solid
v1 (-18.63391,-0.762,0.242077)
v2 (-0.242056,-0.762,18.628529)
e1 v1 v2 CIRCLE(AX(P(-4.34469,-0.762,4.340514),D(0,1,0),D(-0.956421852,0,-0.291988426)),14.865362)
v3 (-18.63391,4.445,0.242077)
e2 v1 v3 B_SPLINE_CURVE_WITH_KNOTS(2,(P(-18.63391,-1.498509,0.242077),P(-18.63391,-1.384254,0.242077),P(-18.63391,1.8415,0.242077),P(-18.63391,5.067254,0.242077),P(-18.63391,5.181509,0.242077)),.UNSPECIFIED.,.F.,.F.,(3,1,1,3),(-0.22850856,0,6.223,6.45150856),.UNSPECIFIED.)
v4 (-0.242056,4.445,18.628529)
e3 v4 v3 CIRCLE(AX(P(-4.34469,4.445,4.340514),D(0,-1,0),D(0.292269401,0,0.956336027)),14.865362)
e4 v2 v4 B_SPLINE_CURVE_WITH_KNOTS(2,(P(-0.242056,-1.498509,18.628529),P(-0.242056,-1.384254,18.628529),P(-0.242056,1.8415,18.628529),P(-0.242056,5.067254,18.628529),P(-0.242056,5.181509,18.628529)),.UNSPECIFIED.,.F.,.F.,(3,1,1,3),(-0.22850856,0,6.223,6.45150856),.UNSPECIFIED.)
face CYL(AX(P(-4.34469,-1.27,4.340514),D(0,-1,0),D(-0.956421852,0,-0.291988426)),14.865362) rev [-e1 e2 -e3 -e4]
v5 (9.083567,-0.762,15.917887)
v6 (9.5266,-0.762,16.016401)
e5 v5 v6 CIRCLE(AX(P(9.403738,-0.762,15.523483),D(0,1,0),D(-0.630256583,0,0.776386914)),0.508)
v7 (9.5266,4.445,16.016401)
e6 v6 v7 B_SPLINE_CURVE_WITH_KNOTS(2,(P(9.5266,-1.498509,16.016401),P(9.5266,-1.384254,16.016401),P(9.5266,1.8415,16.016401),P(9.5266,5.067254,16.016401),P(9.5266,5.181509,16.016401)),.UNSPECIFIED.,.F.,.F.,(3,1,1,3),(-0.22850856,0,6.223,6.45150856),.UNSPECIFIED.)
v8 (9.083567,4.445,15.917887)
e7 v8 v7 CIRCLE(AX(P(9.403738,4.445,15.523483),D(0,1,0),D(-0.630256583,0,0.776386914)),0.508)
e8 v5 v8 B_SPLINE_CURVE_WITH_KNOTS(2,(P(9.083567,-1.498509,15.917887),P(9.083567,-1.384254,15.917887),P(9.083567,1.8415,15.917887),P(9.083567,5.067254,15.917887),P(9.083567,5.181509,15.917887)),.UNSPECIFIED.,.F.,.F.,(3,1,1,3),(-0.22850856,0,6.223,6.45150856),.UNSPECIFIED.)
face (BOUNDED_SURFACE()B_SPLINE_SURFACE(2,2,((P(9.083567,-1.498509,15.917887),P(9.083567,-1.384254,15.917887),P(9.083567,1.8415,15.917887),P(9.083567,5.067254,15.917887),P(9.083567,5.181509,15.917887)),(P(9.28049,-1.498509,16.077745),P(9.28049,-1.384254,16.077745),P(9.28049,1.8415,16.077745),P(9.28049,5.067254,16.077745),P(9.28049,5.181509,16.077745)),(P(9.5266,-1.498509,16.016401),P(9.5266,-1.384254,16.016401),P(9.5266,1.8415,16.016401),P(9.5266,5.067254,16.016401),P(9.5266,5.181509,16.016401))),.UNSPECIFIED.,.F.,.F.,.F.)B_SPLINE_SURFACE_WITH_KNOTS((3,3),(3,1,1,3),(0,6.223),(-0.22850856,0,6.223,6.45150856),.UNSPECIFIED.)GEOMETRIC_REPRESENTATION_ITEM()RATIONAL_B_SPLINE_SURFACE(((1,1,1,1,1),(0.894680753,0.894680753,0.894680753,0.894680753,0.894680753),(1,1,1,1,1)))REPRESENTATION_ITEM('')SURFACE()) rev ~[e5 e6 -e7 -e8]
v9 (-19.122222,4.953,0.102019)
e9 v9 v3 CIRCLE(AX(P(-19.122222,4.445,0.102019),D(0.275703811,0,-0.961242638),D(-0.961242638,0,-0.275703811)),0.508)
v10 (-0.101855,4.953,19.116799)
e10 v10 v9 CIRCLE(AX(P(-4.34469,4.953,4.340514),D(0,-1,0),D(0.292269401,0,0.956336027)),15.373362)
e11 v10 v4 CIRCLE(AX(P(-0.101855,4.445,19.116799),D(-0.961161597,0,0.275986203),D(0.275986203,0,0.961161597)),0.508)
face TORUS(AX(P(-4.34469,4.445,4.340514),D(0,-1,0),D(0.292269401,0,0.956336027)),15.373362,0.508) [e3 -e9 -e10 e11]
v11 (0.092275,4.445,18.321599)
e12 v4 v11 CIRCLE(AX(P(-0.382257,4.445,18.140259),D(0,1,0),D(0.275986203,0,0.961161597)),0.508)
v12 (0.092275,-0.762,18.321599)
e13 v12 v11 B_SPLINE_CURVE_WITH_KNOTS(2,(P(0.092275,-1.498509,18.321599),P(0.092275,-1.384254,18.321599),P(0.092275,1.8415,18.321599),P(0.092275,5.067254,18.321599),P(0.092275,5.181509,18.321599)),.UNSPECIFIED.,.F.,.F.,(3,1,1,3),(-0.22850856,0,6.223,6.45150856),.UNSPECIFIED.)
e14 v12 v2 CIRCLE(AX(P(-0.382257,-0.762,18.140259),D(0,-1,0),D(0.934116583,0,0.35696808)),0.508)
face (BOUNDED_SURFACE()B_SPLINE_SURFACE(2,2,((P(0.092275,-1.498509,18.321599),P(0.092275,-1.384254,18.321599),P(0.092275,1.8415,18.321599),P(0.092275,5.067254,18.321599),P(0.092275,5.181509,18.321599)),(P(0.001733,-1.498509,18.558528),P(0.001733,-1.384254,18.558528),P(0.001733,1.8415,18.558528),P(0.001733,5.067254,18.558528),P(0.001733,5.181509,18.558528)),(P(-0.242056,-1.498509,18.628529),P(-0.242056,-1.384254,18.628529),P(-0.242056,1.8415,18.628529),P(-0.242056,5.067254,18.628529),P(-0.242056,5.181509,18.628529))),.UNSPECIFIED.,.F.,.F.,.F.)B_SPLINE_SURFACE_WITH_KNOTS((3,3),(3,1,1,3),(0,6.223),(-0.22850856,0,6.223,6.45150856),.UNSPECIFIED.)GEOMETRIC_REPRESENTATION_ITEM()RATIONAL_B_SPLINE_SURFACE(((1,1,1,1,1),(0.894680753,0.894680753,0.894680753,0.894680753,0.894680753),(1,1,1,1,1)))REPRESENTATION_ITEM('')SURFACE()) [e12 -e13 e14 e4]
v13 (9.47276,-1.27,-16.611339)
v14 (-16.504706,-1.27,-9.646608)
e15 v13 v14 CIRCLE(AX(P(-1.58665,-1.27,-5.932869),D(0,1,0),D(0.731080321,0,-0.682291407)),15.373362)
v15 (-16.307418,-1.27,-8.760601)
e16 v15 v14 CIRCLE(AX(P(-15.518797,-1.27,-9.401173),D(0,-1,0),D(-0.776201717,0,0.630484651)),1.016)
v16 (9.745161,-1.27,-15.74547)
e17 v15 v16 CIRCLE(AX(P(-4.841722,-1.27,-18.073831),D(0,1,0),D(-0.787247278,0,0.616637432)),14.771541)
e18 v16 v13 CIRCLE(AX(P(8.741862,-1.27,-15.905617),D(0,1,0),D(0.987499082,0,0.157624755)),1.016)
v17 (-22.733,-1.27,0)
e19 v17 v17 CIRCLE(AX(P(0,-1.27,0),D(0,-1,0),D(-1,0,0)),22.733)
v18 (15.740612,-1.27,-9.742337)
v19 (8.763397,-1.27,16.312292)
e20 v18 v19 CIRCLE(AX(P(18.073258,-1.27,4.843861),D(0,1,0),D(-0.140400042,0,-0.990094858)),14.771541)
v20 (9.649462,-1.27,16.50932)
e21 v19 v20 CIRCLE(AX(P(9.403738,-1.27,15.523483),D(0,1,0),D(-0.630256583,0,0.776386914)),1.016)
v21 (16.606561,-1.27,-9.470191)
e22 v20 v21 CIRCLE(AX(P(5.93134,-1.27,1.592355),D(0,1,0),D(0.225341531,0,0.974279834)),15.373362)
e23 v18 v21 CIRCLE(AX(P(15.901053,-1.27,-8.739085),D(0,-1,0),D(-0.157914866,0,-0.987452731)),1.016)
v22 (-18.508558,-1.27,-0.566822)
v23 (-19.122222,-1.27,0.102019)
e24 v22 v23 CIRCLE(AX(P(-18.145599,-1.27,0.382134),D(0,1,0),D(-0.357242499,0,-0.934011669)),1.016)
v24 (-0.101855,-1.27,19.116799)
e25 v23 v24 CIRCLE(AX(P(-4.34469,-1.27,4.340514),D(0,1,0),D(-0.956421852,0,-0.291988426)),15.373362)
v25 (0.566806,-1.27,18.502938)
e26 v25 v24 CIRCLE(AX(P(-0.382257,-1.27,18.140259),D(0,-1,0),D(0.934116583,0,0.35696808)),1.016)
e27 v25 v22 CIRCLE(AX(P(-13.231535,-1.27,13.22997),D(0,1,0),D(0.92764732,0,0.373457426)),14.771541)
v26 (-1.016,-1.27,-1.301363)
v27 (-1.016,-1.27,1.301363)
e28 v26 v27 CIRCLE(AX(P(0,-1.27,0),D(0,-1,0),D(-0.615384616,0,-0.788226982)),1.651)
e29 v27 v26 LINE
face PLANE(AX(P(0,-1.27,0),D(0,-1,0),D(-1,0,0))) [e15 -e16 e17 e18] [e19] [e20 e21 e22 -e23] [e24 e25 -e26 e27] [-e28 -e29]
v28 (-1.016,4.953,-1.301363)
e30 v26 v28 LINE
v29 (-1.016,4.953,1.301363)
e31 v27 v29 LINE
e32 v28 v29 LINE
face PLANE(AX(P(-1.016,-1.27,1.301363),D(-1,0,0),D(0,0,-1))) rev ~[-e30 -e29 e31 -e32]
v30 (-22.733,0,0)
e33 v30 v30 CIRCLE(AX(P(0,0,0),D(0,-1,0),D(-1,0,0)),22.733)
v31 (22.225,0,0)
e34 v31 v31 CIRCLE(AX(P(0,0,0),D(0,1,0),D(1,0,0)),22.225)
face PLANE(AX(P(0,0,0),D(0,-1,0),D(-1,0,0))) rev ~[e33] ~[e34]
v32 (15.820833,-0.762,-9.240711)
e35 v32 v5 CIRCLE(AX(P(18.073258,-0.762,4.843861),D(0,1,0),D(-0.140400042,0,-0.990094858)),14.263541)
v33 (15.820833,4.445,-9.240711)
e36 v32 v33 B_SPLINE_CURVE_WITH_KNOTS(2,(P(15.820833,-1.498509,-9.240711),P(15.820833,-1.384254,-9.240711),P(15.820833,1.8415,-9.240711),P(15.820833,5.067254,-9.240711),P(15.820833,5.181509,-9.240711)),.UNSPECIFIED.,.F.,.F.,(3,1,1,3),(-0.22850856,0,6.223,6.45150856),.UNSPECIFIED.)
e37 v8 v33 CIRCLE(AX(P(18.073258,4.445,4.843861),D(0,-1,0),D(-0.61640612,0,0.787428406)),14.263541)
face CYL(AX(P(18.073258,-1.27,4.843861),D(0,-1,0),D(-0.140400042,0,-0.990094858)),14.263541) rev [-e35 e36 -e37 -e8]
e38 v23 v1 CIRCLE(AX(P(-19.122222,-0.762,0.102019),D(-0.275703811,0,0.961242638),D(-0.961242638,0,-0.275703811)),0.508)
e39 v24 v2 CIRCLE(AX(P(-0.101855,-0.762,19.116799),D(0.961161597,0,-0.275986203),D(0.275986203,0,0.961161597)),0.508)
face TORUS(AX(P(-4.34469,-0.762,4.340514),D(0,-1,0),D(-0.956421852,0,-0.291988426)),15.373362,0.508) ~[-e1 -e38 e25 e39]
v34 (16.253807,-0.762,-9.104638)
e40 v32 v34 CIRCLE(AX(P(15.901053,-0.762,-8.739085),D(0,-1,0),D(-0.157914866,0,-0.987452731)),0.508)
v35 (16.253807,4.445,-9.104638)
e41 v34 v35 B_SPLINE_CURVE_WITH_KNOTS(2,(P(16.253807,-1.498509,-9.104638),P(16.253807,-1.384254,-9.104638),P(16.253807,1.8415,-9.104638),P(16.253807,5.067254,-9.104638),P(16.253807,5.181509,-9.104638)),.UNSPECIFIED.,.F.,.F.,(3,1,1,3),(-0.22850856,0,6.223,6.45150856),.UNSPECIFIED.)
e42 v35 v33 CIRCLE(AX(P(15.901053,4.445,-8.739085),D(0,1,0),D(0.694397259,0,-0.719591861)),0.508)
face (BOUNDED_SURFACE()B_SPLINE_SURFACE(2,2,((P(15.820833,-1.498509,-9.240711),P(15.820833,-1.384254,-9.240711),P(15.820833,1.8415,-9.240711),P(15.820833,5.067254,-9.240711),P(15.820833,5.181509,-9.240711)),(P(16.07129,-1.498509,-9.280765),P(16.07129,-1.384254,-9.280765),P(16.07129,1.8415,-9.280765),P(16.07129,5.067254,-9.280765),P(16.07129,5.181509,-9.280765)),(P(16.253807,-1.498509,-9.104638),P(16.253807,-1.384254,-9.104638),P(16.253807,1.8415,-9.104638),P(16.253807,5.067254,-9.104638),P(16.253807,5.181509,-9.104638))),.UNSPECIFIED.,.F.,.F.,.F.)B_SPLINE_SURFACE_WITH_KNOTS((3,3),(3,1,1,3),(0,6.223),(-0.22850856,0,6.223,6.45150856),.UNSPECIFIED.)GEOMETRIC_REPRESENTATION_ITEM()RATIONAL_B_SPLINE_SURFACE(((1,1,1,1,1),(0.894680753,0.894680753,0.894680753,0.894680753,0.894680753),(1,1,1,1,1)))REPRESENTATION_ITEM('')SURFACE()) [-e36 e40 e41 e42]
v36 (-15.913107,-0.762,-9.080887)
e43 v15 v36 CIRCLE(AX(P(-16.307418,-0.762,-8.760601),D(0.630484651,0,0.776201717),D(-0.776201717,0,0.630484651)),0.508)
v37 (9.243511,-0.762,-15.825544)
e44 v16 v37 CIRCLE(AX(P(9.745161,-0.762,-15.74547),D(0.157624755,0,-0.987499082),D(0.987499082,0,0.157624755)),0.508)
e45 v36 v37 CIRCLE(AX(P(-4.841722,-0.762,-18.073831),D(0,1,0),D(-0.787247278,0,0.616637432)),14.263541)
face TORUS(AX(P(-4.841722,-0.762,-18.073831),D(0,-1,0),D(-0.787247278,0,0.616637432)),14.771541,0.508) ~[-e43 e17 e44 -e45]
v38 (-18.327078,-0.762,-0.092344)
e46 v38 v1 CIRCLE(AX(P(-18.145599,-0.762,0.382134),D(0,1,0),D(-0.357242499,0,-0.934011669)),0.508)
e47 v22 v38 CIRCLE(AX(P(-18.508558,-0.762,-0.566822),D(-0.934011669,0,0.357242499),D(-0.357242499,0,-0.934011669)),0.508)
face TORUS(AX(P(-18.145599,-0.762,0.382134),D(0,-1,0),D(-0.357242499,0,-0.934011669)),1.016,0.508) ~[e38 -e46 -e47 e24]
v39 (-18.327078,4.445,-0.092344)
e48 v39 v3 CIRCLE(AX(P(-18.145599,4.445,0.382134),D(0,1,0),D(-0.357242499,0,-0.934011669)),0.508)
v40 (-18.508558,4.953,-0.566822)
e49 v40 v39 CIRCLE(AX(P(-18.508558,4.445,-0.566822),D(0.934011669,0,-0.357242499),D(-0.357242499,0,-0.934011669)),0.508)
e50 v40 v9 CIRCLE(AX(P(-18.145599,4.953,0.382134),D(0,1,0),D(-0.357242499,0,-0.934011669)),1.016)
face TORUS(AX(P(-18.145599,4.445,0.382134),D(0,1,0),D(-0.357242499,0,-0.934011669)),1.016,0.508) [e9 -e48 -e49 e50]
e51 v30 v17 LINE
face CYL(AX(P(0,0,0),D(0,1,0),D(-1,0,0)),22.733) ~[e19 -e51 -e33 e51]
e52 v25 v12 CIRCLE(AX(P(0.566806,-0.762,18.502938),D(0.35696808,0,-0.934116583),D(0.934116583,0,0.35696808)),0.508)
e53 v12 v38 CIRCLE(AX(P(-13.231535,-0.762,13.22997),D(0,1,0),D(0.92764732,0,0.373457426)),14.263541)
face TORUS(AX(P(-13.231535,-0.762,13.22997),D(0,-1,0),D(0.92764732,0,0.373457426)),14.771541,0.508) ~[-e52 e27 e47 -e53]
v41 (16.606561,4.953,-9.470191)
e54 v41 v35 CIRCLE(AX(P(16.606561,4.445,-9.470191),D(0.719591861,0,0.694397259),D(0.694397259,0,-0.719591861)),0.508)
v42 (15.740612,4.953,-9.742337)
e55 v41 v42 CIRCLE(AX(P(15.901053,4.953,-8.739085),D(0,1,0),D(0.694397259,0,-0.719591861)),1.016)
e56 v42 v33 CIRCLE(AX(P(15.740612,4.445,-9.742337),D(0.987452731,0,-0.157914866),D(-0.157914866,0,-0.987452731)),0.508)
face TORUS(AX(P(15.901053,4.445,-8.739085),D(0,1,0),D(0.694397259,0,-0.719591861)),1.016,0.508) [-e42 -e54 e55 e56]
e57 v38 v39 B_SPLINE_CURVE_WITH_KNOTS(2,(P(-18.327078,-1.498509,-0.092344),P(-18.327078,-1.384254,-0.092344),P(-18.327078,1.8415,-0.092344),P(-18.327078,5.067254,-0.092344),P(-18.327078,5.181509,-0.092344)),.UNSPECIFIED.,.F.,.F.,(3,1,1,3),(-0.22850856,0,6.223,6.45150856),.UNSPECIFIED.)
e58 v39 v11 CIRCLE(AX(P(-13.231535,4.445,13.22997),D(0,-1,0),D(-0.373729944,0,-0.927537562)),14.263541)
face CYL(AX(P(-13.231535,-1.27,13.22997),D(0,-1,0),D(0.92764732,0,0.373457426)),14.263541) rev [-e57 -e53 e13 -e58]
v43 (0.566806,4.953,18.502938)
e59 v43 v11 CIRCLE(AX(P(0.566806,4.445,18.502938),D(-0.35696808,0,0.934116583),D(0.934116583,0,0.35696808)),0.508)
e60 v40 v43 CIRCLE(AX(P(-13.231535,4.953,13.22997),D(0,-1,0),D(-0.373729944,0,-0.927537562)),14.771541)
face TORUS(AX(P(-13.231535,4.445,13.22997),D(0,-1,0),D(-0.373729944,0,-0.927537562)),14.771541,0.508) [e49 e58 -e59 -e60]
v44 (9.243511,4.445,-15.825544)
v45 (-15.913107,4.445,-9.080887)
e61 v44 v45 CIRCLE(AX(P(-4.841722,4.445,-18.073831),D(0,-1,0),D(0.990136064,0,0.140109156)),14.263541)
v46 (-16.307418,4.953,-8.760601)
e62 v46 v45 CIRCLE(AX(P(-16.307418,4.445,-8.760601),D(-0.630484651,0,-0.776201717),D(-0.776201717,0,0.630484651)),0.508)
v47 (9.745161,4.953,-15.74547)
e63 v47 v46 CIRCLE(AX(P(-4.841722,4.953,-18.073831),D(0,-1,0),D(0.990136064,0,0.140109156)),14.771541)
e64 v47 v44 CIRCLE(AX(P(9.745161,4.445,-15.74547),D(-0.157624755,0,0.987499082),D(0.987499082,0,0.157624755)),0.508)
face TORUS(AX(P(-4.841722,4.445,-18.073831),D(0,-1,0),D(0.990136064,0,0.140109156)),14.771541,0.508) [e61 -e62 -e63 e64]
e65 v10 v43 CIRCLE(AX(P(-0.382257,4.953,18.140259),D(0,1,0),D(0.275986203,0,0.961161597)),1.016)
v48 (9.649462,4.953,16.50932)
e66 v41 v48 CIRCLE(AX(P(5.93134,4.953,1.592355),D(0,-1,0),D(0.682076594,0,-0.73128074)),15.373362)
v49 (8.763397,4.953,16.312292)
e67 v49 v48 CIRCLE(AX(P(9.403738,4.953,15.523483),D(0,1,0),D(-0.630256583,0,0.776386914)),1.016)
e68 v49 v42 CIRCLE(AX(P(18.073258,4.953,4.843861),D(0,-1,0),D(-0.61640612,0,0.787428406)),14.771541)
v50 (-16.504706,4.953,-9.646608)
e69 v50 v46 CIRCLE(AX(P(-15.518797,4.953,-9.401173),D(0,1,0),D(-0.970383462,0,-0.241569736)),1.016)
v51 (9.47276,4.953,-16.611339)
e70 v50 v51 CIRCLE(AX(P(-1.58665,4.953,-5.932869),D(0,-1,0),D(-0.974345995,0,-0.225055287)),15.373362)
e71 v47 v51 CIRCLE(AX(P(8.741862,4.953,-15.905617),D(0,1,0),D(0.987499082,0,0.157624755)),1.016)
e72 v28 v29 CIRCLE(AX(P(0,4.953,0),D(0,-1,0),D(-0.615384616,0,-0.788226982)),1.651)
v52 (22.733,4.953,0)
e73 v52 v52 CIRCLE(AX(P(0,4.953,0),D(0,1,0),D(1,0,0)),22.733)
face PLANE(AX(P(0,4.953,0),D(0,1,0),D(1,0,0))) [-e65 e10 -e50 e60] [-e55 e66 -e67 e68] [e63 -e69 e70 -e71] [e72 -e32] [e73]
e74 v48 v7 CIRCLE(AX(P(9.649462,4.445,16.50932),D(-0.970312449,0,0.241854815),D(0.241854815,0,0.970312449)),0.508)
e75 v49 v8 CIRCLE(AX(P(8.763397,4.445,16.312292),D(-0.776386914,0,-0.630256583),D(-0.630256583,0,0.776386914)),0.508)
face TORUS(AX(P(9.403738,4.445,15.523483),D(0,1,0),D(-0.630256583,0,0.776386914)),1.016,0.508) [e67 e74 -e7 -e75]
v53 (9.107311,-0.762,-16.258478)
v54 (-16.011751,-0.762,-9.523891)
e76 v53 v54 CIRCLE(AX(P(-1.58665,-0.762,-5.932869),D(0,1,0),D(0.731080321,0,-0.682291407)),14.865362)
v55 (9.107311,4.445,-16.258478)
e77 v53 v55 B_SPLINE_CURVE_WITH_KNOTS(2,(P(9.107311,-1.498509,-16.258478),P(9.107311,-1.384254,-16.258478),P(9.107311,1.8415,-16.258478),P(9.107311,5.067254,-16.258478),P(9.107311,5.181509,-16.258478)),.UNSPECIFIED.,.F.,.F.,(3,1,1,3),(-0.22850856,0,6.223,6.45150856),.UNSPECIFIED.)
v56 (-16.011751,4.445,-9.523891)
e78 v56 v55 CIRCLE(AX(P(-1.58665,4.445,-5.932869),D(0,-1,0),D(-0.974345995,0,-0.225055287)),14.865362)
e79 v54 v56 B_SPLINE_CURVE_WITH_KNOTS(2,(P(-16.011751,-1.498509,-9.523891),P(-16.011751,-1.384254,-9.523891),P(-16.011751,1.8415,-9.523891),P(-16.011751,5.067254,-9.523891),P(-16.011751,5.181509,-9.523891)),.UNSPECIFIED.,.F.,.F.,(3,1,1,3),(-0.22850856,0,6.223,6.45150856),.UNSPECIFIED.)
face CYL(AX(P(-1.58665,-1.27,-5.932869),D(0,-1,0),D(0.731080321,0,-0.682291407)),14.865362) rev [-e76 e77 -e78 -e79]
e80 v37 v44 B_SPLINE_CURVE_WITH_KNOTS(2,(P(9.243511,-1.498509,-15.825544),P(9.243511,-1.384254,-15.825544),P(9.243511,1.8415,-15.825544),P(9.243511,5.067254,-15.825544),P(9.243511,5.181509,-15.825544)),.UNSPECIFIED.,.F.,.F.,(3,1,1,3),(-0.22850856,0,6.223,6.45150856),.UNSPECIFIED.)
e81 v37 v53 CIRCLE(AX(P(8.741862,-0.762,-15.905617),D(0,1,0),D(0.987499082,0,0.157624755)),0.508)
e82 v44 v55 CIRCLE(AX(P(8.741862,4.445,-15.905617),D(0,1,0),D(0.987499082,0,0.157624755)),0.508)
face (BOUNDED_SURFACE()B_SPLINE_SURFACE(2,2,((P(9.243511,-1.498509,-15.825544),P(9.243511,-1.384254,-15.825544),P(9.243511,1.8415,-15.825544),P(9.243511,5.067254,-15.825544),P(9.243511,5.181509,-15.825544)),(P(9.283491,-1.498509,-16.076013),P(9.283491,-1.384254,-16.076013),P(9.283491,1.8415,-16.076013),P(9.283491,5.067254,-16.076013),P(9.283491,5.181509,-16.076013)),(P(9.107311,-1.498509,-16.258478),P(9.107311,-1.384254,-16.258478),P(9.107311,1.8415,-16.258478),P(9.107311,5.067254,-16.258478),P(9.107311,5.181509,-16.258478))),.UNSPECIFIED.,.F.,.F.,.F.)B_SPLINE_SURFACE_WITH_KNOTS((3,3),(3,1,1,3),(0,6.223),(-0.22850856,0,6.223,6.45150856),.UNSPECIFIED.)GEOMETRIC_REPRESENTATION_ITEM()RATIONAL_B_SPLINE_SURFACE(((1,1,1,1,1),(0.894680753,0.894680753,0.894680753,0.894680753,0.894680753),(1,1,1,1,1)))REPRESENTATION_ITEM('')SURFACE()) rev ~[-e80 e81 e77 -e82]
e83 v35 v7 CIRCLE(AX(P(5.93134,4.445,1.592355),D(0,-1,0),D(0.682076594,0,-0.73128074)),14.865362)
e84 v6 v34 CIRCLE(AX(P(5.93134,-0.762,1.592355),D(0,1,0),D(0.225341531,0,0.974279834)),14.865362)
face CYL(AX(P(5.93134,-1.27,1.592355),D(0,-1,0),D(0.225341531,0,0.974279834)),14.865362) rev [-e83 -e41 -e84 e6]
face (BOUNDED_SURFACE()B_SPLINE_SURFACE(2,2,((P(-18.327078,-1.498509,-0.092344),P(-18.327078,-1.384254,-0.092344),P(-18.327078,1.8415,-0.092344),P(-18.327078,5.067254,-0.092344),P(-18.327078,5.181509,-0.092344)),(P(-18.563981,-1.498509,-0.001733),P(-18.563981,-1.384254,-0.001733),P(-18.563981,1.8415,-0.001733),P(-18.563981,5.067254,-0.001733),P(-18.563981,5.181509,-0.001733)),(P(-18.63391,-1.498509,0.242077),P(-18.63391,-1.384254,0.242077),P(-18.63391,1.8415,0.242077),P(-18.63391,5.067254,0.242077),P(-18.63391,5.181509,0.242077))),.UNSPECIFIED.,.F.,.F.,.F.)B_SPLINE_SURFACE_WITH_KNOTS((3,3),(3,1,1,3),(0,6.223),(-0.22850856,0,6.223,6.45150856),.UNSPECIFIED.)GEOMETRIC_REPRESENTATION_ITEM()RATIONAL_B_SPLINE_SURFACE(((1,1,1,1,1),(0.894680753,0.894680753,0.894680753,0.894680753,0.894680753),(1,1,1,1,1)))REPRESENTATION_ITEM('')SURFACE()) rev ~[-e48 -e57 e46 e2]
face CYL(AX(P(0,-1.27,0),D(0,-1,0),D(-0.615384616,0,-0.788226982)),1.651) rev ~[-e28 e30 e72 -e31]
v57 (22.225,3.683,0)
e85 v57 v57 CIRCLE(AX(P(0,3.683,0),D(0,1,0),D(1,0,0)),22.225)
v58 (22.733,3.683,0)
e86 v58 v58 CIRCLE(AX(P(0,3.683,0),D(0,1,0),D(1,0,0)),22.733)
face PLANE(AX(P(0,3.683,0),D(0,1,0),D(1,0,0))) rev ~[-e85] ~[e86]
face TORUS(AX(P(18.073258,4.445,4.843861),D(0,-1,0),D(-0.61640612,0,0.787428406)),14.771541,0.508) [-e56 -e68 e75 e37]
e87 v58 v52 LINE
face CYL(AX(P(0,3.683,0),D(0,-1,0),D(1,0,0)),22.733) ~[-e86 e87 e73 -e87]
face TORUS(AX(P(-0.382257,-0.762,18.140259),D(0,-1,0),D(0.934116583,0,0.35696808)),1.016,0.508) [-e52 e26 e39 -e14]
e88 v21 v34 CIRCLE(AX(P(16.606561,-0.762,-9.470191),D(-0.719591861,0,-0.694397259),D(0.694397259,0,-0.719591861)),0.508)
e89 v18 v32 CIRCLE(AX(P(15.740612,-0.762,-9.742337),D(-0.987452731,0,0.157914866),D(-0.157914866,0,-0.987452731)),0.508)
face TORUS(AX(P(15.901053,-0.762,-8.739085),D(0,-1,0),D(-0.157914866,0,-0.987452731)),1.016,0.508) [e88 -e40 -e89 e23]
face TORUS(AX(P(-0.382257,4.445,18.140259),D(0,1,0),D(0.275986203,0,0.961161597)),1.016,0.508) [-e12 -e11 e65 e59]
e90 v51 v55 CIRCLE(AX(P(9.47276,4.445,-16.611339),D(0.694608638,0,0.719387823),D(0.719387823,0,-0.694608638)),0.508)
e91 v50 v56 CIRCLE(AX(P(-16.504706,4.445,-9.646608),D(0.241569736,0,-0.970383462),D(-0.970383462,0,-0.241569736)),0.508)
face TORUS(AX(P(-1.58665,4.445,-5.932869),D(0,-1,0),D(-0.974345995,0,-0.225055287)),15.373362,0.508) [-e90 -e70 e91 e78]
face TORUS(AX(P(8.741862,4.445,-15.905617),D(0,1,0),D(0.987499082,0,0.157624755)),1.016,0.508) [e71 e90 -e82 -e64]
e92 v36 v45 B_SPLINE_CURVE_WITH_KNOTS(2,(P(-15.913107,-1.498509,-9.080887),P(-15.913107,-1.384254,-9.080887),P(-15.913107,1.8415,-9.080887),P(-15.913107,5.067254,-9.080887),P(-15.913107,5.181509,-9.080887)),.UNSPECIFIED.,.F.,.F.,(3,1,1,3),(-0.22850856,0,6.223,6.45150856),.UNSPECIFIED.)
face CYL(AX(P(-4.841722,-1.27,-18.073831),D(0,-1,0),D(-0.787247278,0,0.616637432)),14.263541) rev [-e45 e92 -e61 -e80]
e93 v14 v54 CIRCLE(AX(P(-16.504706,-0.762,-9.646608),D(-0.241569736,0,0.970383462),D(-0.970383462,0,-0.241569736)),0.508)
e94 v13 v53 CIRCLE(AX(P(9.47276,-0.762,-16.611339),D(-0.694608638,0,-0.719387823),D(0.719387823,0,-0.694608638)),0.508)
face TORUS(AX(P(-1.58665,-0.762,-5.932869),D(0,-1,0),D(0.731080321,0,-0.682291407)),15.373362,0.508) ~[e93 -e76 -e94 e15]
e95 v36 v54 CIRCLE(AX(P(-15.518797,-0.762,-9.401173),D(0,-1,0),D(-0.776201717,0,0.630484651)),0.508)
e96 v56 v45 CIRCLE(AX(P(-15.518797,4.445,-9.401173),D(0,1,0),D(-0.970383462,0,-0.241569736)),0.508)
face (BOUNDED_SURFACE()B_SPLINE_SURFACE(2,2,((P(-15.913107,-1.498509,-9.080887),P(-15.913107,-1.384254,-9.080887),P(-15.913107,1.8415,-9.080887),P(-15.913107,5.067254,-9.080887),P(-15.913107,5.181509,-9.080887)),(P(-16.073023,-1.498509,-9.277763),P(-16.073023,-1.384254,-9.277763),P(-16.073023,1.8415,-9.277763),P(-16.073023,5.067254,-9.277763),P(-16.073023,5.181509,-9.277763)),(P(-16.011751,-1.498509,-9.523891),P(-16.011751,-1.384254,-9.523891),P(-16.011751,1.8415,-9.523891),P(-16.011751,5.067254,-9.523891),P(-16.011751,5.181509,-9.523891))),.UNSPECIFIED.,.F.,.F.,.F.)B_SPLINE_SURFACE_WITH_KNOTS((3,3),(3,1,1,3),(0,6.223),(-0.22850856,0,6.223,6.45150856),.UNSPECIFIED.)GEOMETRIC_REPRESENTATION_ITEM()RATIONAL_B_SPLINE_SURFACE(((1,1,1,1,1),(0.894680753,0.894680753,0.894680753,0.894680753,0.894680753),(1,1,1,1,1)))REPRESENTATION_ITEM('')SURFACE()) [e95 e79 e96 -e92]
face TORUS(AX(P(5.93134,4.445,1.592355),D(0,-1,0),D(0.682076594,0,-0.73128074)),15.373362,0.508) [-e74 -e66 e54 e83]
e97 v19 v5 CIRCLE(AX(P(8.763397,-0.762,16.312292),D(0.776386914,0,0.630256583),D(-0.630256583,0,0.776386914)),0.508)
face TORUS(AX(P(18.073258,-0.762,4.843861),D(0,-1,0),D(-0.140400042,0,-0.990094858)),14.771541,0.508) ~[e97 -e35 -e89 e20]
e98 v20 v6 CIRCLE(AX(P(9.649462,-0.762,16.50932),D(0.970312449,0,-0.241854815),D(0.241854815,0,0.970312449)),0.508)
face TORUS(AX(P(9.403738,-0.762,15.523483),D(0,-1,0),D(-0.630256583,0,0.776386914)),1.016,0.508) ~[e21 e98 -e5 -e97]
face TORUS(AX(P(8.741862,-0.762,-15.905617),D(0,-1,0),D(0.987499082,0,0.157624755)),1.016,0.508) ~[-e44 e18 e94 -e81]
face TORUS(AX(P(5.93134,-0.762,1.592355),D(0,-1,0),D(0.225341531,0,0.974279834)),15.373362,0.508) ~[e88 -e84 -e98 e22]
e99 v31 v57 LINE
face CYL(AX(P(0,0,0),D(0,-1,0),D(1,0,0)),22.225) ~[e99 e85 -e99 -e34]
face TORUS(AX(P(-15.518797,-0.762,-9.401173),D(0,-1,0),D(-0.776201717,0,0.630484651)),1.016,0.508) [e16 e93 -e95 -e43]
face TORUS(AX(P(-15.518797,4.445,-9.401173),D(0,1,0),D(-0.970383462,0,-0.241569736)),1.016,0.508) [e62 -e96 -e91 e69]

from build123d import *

# Parameters (mm, degrees)
SKETCH2_R                = 22.225
BOSS_EXTRUDE1_DEPTH      = 3.683
SKETCH3_R                = 22.733
BOSS_EXTRUDE2_DEPTH      = 1.27
SKETCH4_R                = 22.733
BOSS_EXTRUDE3_DEPTH      = 1.27
CUT_EXTRUDE1_DEPTH       = 7.223
CUT_EXTRUDE3_DEPTH       = 7.223
FILLET5_R                = 0.508
CIRPATTERN3_COUNT        = 3
FILLET5_OF_CIRPATTERN3_R = 0.508


with BuildPart() as part:
    # Sketch2 → Boss-Extrude1 (new body)
    with BuildSketch(Plane(origin=(0, 0, 0), x_dir=(1, 0, 0), z_dir=(0, 1, 0))):
        Circle(SKETCH2_R)
    extrude(amount=BOSS_EXTRUDE1_DEPTH)

    # Sketch3 → Boss-Extrude2 (add)
    with BuildSketch(Plane(origin=(0, 3.683, 0), x_dir=(1, 0, 0), z_dir=(0, 1, 0))):
        Circle(SKETCH3_R)
    extrude(amount=BOSS_EXTRUDE2_DEPTH)

    # Sketch4 → Boss-Extrude3 (add)
    with BuildSketch(Plane(origin=(0, 0, 0), x_dir=(-1, 0, 0), z_dir=(0, -1, 0))):
        Circle(SKETCH4_R)
    extrude(amount=BOSS_EXTRUDE3_DEPTH)

    # Sketch5 → Cut-Extrude1 (cut, through all)
    with BuildSketch(Plane.XZ.offset(1.27)):
        with BuildLine():
            Line((-1.016, 1.301362747), (-1.016, -1.301362747))
            ThreePointArc((-1.016, -1.301362747), (1.651, 0), (-1.016, 1.301362747))
        make_face()
    extrude(amount=-CUT_EXTRUDE1_DEPTH, mode=Mode.SUBTRACT)

    # Sketch9 → Cut-Extrude3 (cut, through all)
    with BuildSketch(Plane(origin=(0, -1.27, 0), x_dir=(-1, 0, 0), z_dir=(0, -1, 0))):
        with BuildLine():
            ThreePointArc((18.562247706, 0), (14.8545447, -14.853456053), (0, -18.556795097))
            ThreePointArc((0, -18.556795097), (3.147170651, -3.142641985), (18.562247706, 0))
        make_face()
    cut_extrude3 = extrude(amount=-CUT_EXTRUDE3_DEPTH, mode=Mode.SUBTRACT)

    # Fillet5
    fillet5_edges = [part.edges().sort_by_distance(p)[0] for p in [
        (-3.147170651, 4.953, 3.142641985),
        (0, 1.8415, 18.556795097),
        (-14.8545447, 4.953, 14.853456053),
        (-18.562247706, 1.8415, 0),
        (-3.147170651, -1.27, 3.142641985),
        (-14.8545447, -1.27, 14.853456053),
    ]]
    fillet(fillet5_edges, radius=FILLET5_R)

    # CirPattern3: Cut-Extrude3 ×3 about axis
    cirpattern3_axis = Axis((0, 0, 0), (0, 1, 0))
    for i in range(1, CIRPATTERN3_COUNT):
        add(cut_extrude3.rotate(cirpattern3_axis, i * 360 / CIRPATTERN3_COUNT), mode=Mode.SUBTRACT)

    # Fillet5 of CirPattern3
    fillet5_of_cirpattern3_edges = [part.edges().sort_by_distance(p)[0] for p in [
        (4.29519312, 4.953, 1.154208741),
        (16.070655967, 1.8415, -9.278397548),
        (20.290742626, 4.953, 5.437685045),
        (9.281123853, 1.8415, 16.075378065),
        (4.29519312, -1.27, 1.154208741),
        (20.290742626, -1.27, 5.437685045),
        (-1.148022469, 4.953, -4.296850727),
        (-16.070655967, 1.8415, -9.278397548),
        (-5.436197926, 4.953, -20.291141098),
        (9.281123853, 1.8415, -16.075378065),
        (-1.148022469, -1.27, -4.296850727),
        (-5.436197926, -1.27, -20.291141098),
    ]]
    fillet(fillet5_of_cirpattern3_edges, radius=FILLET5_OF_CIRPATTERN3_R)


solid = part.part
